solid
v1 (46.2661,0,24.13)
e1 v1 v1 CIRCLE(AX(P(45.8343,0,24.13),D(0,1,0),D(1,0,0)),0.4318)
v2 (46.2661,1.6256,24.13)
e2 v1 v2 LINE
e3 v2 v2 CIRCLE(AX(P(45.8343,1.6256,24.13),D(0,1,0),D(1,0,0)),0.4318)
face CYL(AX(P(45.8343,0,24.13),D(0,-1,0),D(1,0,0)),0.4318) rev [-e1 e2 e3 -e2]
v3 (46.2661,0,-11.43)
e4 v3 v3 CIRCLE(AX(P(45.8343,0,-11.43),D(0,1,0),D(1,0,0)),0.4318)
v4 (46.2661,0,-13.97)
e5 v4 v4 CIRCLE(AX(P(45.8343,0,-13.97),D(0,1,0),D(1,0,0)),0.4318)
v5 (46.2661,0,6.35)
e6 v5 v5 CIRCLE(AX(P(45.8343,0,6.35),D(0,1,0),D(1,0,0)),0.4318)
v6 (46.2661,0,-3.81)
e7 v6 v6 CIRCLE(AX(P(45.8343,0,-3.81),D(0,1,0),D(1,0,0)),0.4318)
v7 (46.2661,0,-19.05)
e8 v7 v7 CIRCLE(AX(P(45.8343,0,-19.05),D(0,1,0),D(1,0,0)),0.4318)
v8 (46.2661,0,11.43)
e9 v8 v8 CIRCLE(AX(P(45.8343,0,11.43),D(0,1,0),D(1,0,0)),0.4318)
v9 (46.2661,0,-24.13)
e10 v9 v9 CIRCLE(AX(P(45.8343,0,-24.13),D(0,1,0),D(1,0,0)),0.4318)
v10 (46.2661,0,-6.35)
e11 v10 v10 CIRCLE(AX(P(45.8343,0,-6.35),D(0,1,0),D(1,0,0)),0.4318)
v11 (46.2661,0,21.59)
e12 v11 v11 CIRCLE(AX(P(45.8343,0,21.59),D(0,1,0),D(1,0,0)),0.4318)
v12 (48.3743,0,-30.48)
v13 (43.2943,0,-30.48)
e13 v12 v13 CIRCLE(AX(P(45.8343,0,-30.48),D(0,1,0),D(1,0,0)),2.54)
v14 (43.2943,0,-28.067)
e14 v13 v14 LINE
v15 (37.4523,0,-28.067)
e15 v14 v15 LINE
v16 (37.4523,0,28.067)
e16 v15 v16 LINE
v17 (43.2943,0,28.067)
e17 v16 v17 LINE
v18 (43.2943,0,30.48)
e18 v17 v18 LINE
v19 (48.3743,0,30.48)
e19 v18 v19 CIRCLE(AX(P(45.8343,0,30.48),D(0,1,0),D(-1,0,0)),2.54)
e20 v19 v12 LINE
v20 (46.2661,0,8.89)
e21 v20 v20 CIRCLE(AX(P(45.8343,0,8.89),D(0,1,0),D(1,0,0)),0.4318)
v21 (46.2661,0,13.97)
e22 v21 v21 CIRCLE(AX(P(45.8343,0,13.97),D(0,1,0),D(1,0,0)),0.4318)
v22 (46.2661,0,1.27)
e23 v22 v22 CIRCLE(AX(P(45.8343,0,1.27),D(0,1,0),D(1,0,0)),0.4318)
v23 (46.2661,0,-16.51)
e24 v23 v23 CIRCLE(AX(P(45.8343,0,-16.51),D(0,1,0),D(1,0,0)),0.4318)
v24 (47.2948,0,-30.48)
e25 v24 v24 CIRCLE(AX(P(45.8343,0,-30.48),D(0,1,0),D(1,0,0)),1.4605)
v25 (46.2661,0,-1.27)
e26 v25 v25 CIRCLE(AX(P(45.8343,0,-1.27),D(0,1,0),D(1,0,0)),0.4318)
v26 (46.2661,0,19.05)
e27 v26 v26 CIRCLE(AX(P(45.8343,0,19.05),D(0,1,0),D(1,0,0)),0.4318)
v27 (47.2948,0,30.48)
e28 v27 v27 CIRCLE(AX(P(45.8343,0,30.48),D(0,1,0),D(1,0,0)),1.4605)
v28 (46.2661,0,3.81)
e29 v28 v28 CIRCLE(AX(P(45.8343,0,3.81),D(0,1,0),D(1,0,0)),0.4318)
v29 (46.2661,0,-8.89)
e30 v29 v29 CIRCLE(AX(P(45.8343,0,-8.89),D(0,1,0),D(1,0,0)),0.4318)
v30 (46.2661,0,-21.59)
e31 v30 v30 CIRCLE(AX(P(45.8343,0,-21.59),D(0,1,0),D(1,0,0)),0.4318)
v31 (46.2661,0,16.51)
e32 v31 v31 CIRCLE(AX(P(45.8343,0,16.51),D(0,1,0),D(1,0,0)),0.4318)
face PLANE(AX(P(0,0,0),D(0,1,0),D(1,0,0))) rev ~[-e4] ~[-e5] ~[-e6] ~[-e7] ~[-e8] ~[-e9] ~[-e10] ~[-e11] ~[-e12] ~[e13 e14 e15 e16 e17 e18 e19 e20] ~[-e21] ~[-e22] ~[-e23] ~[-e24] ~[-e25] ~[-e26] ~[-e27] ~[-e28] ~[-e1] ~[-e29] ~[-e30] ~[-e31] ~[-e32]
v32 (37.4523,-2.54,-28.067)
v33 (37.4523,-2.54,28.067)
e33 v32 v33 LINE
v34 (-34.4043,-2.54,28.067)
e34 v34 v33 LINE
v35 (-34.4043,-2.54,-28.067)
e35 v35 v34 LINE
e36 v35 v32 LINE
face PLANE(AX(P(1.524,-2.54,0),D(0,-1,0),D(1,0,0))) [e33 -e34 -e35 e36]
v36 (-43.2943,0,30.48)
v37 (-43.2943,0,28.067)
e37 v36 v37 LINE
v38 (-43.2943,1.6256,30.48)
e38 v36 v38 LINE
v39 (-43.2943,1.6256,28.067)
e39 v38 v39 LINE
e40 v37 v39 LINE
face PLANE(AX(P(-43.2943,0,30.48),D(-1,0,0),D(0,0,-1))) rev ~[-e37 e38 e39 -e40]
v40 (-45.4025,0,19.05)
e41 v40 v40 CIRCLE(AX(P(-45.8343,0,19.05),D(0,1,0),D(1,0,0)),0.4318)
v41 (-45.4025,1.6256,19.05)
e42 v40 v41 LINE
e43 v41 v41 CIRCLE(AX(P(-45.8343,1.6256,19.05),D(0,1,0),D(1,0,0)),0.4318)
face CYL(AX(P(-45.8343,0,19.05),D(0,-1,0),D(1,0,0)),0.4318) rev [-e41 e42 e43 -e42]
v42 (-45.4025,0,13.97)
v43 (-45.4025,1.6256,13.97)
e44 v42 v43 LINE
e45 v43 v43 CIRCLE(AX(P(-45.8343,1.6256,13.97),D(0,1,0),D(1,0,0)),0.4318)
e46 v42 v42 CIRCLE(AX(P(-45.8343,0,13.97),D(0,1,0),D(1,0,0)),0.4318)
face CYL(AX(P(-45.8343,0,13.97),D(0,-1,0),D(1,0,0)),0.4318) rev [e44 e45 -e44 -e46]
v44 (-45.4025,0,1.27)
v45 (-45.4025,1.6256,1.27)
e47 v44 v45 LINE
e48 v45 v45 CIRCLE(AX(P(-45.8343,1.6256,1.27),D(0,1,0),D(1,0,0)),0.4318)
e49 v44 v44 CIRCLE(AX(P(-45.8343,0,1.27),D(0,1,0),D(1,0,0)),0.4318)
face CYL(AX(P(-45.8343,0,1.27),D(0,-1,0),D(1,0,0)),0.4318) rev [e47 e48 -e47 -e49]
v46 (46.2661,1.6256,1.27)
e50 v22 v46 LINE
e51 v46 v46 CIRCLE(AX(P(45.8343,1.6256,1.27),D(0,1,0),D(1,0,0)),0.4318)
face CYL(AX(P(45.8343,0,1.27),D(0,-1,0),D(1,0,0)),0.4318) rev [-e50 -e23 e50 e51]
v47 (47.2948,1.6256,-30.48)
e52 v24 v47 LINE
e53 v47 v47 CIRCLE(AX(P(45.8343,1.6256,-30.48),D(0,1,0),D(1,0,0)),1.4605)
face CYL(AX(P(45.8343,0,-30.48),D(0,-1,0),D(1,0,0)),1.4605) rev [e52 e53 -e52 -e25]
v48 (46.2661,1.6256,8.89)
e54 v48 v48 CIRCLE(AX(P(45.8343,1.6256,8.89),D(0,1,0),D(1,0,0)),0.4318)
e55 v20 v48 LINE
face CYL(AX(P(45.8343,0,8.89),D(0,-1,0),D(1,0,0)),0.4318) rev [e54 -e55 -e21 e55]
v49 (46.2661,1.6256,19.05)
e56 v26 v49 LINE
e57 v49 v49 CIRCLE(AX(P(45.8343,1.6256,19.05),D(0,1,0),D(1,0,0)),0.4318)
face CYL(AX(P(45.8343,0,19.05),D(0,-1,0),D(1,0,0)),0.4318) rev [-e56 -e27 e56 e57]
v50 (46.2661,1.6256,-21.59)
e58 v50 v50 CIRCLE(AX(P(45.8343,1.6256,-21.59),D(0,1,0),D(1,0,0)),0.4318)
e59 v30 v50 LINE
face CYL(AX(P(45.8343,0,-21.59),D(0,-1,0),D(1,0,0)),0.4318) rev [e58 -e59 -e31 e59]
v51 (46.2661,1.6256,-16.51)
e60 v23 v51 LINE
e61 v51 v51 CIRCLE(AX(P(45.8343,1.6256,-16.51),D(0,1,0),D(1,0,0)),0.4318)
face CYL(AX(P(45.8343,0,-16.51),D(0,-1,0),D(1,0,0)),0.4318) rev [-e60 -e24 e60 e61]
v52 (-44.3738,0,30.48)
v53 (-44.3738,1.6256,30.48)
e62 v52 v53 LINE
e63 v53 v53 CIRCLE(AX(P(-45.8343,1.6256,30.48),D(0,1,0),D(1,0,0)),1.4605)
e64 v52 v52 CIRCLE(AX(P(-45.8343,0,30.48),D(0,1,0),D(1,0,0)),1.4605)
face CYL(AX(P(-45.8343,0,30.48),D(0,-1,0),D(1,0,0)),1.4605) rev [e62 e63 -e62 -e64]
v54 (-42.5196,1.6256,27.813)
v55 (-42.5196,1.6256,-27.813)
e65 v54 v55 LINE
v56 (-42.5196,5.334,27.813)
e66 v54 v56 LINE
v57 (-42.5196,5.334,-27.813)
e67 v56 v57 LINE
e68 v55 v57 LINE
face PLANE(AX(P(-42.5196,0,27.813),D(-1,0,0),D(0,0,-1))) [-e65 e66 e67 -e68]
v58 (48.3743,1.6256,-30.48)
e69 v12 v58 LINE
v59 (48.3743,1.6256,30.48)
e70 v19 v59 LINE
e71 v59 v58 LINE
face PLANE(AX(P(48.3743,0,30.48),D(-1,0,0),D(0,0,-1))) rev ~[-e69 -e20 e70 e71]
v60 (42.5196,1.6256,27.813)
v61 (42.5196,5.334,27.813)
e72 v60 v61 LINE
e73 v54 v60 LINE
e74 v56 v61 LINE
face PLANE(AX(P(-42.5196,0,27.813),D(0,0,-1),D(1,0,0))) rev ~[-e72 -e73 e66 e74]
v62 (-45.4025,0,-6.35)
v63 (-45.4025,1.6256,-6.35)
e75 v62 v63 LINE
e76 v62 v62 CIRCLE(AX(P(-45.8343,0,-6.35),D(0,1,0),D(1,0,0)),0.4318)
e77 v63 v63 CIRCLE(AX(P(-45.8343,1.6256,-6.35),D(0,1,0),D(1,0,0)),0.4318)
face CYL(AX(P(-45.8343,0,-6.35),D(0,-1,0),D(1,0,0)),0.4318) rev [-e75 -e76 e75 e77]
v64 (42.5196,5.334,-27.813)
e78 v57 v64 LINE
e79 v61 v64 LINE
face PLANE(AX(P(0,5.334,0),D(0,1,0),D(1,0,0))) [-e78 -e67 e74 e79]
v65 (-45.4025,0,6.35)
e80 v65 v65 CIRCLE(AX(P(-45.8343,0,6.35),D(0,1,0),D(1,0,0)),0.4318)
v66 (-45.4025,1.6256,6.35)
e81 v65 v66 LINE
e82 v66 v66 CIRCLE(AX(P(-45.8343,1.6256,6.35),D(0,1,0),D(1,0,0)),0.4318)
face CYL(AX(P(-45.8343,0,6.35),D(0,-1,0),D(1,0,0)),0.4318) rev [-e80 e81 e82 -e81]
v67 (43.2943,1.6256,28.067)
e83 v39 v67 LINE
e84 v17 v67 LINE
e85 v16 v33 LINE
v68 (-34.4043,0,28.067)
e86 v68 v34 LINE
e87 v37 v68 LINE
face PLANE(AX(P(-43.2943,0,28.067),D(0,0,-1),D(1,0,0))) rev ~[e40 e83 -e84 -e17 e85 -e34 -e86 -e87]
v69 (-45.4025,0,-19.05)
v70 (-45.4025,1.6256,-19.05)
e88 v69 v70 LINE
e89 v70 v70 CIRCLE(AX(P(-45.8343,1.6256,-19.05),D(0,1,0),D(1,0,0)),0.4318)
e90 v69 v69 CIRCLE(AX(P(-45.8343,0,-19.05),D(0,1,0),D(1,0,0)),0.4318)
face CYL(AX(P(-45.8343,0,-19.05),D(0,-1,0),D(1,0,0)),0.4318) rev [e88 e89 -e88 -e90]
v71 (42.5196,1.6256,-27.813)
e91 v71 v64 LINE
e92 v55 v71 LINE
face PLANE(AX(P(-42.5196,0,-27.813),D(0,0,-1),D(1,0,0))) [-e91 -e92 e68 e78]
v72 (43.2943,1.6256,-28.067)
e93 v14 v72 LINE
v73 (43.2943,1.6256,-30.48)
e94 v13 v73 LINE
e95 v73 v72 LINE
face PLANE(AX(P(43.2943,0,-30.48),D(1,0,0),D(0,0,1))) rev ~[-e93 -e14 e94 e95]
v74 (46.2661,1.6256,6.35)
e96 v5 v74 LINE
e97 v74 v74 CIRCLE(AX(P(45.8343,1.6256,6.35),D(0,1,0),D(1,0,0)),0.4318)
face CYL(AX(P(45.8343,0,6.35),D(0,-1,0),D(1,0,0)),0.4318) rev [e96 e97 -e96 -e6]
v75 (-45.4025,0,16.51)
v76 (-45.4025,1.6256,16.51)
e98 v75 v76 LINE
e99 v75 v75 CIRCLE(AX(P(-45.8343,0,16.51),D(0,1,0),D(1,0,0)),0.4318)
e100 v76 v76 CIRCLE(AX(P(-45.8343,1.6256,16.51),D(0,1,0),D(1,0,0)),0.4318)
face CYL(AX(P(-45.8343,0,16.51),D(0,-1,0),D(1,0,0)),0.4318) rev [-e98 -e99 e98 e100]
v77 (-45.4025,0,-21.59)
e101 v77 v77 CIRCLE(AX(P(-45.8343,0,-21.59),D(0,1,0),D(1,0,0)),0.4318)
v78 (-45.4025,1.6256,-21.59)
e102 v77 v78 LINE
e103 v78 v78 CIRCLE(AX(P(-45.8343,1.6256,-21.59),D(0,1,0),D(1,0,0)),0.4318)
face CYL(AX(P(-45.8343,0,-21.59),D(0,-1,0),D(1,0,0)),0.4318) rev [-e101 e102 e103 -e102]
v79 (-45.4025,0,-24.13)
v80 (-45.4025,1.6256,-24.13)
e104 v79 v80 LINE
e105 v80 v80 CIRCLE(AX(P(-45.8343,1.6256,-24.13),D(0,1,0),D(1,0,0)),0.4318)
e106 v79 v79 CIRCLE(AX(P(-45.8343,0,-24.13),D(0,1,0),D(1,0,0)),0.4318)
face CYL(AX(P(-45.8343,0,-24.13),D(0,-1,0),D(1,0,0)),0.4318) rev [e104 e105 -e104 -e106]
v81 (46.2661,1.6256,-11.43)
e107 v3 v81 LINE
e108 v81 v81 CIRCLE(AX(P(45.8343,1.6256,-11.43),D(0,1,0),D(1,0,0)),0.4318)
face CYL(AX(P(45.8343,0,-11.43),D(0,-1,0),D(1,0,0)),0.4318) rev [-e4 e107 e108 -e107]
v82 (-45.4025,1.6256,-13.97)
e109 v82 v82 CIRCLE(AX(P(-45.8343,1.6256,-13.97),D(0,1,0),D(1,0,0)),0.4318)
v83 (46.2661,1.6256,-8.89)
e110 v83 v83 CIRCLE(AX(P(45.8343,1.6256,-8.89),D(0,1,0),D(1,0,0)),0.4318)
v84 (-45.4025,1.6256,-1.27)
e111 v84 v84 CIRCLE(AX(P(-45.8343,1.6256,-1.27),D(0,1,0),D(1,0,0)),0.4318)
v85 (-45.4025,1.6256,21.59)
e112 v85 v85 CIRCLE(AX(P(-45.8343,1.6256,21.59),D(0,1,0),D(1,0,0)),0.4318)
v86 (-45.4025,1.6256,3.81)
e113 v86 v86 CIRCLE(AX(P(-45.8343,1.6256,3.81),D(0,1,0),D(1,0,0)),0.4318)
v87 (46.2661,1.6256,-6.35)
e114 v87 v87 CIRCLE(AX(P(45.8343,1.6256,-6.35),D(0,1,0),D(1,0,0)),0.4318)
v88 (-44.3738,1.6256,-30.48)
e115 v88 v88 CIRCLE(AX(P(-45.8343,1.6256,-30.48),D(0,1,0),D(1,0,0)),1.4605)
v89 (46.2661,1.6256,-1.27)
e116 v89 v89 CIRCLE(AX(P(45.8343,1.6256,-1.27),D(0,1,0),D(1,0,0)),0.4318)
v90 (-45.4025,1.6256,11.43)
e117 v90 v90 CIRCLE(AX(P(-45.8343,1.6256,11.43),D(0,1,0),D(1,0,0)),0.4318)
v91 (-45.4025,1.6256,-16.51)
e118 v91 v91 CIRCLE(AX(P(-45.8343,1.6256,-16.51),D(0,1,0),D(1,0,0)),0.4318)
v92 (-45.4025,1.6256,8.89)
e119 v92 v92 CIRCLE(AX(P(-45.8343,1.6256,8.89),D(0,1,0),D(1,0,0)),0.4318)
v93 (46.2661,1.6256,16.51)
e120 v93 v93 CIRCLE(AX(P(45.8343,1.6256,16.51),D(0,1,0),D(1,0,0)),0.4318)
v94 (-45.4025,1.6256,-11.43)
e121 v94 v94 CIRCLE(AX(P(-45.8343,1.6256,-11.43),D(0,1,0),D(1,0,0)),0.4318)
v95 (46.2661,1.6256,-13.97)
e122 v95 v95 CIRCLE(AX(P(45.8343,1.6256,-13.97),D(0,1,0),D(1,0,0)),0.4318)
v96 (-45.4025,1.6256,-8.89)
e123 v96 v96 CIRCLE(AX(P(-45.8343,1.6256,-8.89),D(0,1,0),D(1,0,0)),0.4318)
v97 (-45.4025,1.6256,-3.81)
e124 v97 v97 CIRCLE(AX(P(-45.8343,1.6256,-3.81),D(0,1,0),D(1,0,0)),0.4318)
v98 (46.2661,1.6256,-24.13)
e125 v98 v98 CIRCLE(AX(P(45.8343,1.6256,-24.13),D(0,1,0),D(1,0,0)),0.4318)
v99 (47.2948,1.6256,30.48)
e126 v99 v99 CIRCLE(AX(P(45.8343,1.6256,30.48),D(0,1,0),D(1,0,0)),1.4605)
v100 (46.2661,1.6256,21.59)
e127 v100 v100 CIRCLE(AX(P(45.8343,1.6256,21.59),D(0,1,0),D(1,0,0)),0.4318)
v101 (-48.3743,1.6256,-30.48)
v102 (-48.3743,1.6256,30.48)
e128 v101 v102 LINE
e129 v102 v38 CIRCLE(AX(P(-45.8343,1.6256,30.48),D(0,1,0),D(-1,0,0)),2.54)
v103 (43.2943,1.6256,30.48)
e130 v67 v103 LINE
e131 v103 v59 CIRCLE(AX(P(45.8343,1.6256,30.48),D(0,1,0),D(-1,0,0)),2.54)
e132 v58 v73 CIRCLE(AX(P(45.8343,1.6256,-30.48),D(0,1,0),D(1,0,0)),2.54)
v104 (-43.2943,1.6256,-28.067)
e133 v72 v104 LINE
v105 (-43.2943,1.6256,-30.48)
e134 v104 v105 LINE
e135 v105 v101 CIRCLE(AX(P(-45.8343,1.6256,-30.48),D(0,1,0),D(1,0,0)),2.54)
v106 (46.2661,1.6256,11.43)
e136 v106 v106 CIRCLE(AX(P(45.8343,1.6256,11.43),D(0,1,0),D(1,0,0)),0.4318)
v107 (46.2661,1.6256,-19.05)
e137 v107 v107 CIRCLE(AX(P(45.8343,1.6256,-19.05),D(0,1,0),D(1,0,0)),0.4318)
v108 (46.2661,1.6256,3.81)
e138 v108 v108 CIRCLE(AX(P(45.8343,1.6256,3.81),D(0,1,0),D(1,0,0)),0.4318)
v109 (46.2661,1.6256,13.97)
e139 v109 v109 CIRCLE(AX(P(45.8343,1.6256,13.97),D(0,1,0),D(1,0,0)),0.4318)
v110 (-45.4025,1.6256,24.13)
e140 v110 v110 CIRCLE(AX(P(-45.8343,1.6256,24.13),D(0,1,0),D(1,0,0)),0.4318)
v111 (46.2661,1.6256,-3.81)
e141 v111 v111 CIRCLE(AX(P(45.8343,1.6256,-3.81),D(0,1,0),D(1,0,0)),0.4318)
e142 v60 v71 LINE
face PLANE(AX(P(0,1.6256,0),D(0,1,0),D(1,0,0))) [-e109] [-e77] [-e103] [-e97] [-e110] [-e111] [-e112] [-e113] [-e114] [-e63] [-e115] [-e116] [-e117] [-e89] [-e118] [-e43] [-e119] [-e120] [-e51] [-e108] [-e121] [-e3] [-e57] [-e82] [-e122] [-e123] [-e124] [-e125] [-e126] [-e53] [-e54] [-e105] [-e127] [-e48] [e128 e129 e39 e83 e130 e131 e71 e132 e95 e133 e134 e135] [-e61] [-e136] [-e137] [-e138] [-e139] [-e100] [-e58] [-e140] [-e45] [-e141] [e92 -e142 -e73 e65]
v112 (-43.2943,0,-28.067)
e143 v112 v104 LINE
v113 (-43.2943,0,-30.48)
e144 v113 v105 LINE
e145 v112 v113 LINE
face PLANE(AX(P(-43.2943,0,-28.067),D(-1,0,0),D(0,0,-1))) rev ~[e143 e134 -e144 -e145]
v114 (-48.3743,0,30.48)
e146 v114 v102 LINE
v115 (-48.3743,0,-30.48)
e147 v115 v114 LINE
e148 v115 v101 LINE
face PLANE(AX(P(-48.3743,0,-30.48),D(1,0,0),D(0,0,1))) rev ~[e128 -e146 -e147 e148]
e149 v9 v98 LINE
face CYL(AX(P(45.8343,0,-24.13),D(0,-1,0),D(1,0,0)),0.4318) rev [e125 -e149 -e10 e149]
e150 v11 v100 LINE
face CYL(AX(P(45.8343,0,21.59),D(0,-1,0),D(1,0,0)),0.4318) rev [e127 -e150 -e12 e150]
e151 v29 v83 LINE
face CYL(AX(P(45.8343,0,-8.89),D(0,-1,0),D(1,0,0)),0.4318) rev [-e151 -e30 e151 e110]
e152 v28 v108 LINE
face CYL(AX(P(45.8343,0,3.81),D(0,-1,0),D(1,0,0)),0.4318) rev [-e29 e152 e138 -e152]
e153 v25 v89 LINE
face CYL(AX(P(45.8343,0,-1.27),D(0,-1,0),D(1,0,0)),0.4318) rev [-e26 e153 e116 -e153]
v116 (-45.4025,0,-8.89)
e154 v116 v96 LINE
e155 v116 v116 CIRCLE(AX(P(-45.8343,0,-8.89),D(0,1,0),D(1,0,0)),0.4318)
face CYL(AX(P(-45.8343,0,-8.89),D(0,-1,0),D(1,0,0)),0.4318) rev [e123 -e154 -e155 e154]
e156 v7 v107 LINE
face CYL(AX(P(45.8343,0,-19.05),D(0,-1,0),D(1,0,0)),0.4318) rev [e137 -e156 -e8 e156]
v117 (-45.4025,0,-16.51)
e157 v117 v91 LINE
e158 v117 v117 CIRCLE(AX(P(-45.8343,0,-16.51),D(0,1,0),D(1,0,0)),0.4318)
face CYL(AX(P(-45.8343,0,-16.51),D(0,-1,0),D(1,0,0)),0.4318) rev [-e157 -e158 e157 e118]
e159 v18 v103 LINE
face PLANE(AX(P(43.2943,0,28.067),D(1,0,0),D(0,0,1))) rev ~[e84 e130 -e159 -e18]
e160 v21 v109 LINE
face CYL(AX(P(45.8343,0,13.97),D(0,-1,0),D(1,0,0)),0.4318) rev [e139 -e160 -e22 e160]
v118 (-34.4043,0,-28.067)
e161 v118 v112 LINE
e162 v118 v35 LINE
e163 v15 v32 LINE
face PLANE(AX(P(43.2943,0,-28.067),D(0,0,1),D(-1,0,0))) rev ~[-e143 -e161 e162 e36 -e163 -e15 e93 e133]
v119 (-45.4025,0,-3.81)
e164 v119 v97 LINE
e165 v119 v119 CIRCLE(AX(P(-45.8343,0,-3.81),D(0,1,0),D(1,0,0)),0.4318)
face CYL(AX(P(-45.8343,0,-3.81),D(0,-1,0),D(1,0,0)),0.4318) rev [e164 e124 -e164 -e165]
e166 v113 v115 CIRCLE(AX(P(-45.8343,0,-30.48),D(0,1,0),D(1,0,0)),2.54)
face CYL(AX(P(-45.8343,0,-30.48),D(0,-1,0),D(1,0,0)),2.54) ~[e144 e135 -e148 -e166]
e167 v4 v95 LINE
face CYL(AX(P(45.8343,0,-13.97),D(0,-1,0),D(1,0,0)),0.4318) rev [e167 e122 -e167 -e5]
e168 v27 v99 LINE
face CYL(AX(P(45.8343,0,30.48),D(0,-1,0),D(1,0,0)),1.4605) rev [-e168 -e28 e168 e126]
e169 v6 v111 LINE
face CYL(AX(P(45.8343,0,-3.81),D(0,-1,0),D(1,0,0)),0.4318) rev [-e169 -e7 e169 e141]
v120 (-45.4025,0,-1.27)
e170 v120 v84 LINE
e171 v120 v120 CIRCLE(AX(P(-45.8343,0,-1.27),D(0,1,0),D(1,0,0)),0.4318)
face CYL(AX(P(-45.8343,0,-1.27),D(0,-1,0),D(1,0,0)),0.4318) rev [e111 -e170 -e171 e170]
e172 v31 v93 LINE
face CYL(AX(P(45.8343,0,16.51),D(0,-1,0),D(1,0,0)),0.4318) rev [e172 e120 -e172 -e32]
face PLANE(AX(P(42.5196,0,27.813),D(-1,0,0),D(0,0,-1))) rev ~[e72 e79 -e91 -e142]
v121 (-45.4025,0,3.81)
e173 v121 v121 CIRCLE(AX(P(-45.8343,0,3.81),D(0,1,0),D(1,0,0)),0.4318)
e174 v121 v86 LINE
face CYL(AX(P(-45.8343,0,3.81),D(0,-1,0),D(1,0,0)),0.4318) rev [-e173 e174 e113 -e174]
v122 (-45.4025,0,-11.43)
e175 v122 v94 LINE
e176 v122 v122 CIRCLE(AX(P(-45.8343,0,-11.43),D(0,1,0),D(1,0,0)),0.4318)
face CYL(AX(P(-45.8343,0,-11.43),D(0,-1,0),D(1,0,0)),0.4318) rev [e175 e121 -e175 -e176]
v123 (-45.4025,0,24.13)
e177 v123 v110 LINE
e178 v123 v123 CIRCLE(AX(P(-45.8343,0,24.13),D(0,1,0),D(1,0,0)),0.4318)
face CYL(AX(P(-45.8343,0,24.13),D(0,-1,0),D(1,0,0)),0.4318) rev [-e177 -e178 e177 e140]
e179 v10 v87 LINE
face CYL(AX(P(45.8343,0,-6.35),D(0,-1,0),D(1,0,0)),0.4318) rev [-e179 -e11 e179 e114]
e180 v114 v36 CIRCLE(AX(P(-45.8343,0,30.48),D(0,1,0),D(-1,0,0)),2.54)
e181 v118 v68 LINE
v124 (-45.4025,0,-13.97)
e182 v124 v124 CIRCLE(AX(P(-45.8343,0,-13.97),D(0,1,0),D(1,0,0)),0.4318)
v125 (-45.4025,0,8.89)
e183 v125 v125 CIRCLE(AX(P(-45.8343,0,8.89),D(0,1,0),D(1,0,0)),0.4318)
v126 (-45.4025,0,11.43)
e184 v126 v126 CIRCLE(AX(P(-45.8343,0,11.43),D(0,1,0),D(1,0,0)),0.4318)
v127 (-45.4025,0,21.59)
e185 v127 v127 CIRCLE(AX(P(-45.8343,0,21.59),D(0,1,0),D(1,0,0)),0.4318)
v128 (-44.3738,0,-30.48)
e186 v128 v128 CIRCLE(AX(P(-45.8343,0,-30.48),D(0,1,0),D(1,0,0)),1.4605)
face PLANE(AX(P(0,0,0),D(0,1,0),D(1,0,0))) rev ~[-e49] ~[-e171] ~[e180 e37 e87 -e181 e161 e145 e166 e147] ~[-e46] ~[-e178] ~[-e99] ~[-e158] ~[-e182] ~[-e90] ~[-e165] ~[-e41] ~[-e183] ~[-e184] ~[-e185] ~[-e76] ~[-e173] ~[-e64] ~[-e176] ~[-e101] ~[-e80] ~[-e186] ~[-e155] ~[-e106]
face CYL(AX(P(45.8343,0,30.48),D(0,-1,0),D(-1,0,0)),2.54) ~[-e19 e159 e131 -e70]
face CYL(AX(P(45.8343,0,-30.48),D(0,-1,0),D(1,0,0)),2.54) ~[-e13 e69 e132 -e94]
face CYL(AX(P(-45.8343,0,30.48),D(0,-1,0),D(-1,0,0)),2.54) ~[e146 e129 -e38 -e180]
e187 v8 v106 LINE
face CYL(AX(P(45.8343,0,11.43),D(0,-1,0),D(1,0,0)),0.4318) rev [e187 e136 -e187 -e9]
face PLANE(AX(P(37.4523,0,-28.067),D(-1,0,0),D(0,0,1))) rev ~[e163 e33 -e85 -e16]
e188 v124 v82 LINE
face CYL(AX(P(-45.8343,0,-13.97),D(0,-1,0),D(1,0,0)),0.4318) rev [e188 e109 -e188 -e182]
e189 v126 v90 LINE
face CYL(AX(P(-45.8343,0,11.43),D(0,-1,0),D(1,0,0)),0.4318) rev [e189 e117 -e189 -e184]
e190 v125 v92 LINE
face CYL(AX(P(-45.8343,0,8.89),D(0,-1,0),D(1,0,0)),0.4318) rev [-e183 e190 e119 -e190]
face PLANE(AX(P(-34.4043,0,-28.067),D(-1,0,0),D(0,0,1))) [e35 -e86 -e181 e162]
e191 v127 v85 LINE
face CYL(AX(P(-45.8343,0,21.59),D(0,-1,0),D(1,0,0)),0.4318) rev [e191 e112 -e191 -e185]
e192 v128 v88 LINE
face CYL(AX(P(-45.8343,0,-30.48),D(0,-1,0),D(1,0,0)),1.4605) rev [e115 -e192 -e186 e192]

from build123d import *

# Parameters (mm, degrees)
SKETCH1_R           = 1.4605
SKETCH1_R_2         = 0.4318
SKETCH1_W           = 85.0392
SKETCH1_H           = 55.626
BOSS_EXTRUDE1_DEPTH = 1.6256
SKETCH1_2_W         = 85.0392
SKETCH1_2_H         = 55.626
BOSS_EXTRUDE2_DEPTH = 5.334
SKETCH2_W           = 71.8566
SKETCH2_H           = 56.134
BOSS_EXTRUDE3_DEPTH = 2.54


with BuildPart() as part:
    # Sketch1 → Boss-Extrude1 (new body)
    with BuildSketch(Plane(origin=(0, 0, 0), x_dir=(1, 0, 0), z_dir=(0, 1, 0))):
        with BuildLine():
            Line((43.2943, 28.067), (-43.2943, 28.067))
            Line((-43.2943, 28.067), (-43.2943, 30.48))
            ThreePointArc((-43.2943, 30.48), (-45.8343, 33.02), (-48.3743, 30.48))
            Line((-48.3743, 30.48), (-48.3743, -30.48))
            ThreePointArc((-48.3743, -30.48), (-45.8343, -33.02), (-43.2943, -30.48))
            Line((-43.2943, -30.48), (-43.2943, -28.067))
            Line((-43.2943, -28.067), (43.2943, -28.067))
            Line((43.2943, -28.067), (43.2943, -30.48))
            ThreePointArc((43.2943, -30.48), (45.8343, -33.02), (48.3743, -30.48))
            Line((48.3743, -30.48), (48.3743, 30.48))
            ThreePointArc((48.3743, 30.48), (45.8343, 33.02), (43.2943, 30.48))
            Line((43.2943, 30.48), (43.2943, 28.067))
        make_face()
        with Locations((-45.8343, 30.48)):
            Circle(SKETCH1_R, mode=Mode.SUBTRACT)
        with Locations((-45.8343, -30.48)):
            Circle(SKETCH1_R, mode=Mode.SUBTRACT)
        with Locations((45.8343, -30.48)):
            Circle(SKETCH1_R, mode=Mode.SUBTRACT)
        with Locations((45.8343, 30.48)):
            Circle(SKETCH1_R, mode=Mode.SUBTRACT)
        with Locations((-45.8343, 24.13)):
            Circle(SKETCH1_R_2, mode=Mode.SUBTRACT)
        with Locations((-45.8343, 21.59)):
            Circle(SKETCH1_R_2, mode=Mode.SUBTRACT)
        with Locations((-45.8343, 19.05)):
            Circle(SKETCH1_R_2, mode=Mode.SUBTRACT)
        with Locations((-45.8343, 16.51)):
            Circle(SKETCH1_R_2, mode=Mode.SUBTRACT)
        with Locations((-45.8343, 13.97)):
            Circle(SKETCH1_R_2, mode=Mode.SUBTRACT)
        with Locations((-45.8343, 11.43)):
            Circle(SKETCH1_R_2, mode=Mode.SUBTRACT)
        with Locations((-45.8343, 8.89)):
            Circle(SKETCH1_R_2, mode=Mode.SUBTRACT)
        with Locations((-45.8343, 6.35)):
            Circle(SKETCH1_R_2, mode=Mode.SUBTRACT)
        with Locations((-45.8343, 3.81)):
            Circle(SKETCH1_R_2, mode=Mode.SUBTRACT)
        with Locations((-45.8343, 1.27)):
            Circle(SKETCH1_R_2, mode=Mode.SUBTRACT)
        with Locations((-45.8343, -1.27)):
            Circle(SKETCH1_R_2, mode=Mode.SUBTRACT)
        with Locations((-45.8343, -3.81)):
            Circle(SKETCH1_R_2, mode=Mode.SUBTRACT)
        with Locations((-45.8343, -6.35)):
            Circle(SKETCH1_R_2, mode=Mode.SUBTRACT)
        with Locations((-45.8343, -8.89)):
            Circle(SKETCH1_R_2, mode=Mode.SUBTRACT)
        with Locations((-45.8343, -11.43)):
            Circle(SKETCH1_R_2, mode=Mode.SUBTRACT)
        with Locations((-45.8343, -13.97)):
            Circle(SKETCH1_R_2, mode=Mode.SUBTRACT)
        with Locations((-45.8343, -16.51)):
            Circle(SKETCH1_R_2, mode=Mode.SUBTRACT)
        with Locations((-45.8343, -19.05)):
            Circle(SKETCH1_R_2, mode=Mode.SUBTRACT)
        with Locations((-45.8343, -21.59)):
            Circle(SKETCH1_R_2, mode=Mode.SUBTRACT)
        with Locations((-45.8343, -24.13)):
            Circle(SKETCH1_R_2, mode=Mode.SUBTRACT)
        with Locations((45.8343, -24.13)):
            Circle(SKETCH1_R_2, mode=Mode.SUBTRACT)
        with Locations((45.8343, -21.59)):
            Circle(SKETCH1_R_2, mode=Mode.SUBTRACT)
        with Locations((45.8343, -19.05)):
            Circle(SKETCH1_R_2, mode=Mode.SUBTRACT)
        with Locations((45.8343, -16.51)):
            Circle(SKETCH1_R_2, mode=Mode.SUBTRACT)
        with Locations((45.8343, -13.97)):
            Circle(SKETCH1_R_2, mode=Mode.SUBTRACT)
        with Locations((45.8343, -11.43)):
            Circle(SKETCH1_R_2, mode=Mode.SUBTRACT)
        with Locations((45.8343, -8.89)):
            Circle(SKETCH1_R_2, mode=Mode.SUBTRACT)
        with Locations((45.8343, -6.35)):
            Circle(SKETCH1_R_2, mode=Mode.SUBTRACT)
        with Locations((45.8343, -3.81)):
            Circle(SKETCH1_R_2, mode=Mode.SUBTRACT)
        with Locations((45.8343, -1.27)):
            Circle(SKETCH1_R_2, mode=Mode.SUBTRACT)
        with Locations((45.8343, 1.27)):
            Circle(SKETCH1_R_2, mode=Mode.SUBTRACT)
        with Locations((45.8343, 3.81)):
            Circle(SKETCH1_R_2, mode=Mode.SUBTRACT)
        with Locations((45.8343, 6.35)):
            Circle(SKETCH1_R_2, mode=Mode.SUBTRACT)
        with Locations((45.8343, 8.89)):
            Circle(SKETCH1_R_2, mode=Mode.SUBTRACT)
        with Locations((45.8343, 11.43)):
            Circle(SKETCH1_R_2, mode=Mode.SUBTRACT)
        with Locations((45.8343, 13.97)):
            Circle(SKETCH1_R_2, mode=Mode.SUBTRACT)
        with Locations((45.8343, 16.51)):
            Circle(SKETCH1_R_2, mode=Mode.SUBTRACT)
        with Locations((45.8343, 19.05)):
            Circle(SKETCH1_R_2, mode=Mode.SUBTRACT)
        with Locations((45.8343, 21.59)):
            Circle(SKETCH1_R_2, mode=Mode.SUBTRACT)
        with Locations((45.8343, 24.13)):
            Circle(SKETCH1_R_2, mode=Mode.SUBTRACT)
        Rectangle(SKETCH1_W, SKETCH1_H, mode=Mode.SUBTRACT)
    extrude(amount=BOSS_EXTRUDE1_DEPTH)

    # Sketch1<2> → Boss-Extrude2 (add)
    with BuildSketch(Plane(origin=(0, 0, 0), x_dir=(1, 0, 0), z_dir=(0, 1, 0))):
        Rectangle(SKETCH1_2_W, SKETCH1_2_H)
    extrude(amount=BOSS_EXTRUDE2_DEPTH)

    # Sketch2 → Boss-Extrude3 (add)
    with BuildSketch(Plane.XZ):
        with Locations((1.524, 0)):
            Rectangle(SKETCH2_W, SKETCH2_H)
    extrude(amount=BOSS_EXTRUDE3_DEPTH)


solid = part.part
